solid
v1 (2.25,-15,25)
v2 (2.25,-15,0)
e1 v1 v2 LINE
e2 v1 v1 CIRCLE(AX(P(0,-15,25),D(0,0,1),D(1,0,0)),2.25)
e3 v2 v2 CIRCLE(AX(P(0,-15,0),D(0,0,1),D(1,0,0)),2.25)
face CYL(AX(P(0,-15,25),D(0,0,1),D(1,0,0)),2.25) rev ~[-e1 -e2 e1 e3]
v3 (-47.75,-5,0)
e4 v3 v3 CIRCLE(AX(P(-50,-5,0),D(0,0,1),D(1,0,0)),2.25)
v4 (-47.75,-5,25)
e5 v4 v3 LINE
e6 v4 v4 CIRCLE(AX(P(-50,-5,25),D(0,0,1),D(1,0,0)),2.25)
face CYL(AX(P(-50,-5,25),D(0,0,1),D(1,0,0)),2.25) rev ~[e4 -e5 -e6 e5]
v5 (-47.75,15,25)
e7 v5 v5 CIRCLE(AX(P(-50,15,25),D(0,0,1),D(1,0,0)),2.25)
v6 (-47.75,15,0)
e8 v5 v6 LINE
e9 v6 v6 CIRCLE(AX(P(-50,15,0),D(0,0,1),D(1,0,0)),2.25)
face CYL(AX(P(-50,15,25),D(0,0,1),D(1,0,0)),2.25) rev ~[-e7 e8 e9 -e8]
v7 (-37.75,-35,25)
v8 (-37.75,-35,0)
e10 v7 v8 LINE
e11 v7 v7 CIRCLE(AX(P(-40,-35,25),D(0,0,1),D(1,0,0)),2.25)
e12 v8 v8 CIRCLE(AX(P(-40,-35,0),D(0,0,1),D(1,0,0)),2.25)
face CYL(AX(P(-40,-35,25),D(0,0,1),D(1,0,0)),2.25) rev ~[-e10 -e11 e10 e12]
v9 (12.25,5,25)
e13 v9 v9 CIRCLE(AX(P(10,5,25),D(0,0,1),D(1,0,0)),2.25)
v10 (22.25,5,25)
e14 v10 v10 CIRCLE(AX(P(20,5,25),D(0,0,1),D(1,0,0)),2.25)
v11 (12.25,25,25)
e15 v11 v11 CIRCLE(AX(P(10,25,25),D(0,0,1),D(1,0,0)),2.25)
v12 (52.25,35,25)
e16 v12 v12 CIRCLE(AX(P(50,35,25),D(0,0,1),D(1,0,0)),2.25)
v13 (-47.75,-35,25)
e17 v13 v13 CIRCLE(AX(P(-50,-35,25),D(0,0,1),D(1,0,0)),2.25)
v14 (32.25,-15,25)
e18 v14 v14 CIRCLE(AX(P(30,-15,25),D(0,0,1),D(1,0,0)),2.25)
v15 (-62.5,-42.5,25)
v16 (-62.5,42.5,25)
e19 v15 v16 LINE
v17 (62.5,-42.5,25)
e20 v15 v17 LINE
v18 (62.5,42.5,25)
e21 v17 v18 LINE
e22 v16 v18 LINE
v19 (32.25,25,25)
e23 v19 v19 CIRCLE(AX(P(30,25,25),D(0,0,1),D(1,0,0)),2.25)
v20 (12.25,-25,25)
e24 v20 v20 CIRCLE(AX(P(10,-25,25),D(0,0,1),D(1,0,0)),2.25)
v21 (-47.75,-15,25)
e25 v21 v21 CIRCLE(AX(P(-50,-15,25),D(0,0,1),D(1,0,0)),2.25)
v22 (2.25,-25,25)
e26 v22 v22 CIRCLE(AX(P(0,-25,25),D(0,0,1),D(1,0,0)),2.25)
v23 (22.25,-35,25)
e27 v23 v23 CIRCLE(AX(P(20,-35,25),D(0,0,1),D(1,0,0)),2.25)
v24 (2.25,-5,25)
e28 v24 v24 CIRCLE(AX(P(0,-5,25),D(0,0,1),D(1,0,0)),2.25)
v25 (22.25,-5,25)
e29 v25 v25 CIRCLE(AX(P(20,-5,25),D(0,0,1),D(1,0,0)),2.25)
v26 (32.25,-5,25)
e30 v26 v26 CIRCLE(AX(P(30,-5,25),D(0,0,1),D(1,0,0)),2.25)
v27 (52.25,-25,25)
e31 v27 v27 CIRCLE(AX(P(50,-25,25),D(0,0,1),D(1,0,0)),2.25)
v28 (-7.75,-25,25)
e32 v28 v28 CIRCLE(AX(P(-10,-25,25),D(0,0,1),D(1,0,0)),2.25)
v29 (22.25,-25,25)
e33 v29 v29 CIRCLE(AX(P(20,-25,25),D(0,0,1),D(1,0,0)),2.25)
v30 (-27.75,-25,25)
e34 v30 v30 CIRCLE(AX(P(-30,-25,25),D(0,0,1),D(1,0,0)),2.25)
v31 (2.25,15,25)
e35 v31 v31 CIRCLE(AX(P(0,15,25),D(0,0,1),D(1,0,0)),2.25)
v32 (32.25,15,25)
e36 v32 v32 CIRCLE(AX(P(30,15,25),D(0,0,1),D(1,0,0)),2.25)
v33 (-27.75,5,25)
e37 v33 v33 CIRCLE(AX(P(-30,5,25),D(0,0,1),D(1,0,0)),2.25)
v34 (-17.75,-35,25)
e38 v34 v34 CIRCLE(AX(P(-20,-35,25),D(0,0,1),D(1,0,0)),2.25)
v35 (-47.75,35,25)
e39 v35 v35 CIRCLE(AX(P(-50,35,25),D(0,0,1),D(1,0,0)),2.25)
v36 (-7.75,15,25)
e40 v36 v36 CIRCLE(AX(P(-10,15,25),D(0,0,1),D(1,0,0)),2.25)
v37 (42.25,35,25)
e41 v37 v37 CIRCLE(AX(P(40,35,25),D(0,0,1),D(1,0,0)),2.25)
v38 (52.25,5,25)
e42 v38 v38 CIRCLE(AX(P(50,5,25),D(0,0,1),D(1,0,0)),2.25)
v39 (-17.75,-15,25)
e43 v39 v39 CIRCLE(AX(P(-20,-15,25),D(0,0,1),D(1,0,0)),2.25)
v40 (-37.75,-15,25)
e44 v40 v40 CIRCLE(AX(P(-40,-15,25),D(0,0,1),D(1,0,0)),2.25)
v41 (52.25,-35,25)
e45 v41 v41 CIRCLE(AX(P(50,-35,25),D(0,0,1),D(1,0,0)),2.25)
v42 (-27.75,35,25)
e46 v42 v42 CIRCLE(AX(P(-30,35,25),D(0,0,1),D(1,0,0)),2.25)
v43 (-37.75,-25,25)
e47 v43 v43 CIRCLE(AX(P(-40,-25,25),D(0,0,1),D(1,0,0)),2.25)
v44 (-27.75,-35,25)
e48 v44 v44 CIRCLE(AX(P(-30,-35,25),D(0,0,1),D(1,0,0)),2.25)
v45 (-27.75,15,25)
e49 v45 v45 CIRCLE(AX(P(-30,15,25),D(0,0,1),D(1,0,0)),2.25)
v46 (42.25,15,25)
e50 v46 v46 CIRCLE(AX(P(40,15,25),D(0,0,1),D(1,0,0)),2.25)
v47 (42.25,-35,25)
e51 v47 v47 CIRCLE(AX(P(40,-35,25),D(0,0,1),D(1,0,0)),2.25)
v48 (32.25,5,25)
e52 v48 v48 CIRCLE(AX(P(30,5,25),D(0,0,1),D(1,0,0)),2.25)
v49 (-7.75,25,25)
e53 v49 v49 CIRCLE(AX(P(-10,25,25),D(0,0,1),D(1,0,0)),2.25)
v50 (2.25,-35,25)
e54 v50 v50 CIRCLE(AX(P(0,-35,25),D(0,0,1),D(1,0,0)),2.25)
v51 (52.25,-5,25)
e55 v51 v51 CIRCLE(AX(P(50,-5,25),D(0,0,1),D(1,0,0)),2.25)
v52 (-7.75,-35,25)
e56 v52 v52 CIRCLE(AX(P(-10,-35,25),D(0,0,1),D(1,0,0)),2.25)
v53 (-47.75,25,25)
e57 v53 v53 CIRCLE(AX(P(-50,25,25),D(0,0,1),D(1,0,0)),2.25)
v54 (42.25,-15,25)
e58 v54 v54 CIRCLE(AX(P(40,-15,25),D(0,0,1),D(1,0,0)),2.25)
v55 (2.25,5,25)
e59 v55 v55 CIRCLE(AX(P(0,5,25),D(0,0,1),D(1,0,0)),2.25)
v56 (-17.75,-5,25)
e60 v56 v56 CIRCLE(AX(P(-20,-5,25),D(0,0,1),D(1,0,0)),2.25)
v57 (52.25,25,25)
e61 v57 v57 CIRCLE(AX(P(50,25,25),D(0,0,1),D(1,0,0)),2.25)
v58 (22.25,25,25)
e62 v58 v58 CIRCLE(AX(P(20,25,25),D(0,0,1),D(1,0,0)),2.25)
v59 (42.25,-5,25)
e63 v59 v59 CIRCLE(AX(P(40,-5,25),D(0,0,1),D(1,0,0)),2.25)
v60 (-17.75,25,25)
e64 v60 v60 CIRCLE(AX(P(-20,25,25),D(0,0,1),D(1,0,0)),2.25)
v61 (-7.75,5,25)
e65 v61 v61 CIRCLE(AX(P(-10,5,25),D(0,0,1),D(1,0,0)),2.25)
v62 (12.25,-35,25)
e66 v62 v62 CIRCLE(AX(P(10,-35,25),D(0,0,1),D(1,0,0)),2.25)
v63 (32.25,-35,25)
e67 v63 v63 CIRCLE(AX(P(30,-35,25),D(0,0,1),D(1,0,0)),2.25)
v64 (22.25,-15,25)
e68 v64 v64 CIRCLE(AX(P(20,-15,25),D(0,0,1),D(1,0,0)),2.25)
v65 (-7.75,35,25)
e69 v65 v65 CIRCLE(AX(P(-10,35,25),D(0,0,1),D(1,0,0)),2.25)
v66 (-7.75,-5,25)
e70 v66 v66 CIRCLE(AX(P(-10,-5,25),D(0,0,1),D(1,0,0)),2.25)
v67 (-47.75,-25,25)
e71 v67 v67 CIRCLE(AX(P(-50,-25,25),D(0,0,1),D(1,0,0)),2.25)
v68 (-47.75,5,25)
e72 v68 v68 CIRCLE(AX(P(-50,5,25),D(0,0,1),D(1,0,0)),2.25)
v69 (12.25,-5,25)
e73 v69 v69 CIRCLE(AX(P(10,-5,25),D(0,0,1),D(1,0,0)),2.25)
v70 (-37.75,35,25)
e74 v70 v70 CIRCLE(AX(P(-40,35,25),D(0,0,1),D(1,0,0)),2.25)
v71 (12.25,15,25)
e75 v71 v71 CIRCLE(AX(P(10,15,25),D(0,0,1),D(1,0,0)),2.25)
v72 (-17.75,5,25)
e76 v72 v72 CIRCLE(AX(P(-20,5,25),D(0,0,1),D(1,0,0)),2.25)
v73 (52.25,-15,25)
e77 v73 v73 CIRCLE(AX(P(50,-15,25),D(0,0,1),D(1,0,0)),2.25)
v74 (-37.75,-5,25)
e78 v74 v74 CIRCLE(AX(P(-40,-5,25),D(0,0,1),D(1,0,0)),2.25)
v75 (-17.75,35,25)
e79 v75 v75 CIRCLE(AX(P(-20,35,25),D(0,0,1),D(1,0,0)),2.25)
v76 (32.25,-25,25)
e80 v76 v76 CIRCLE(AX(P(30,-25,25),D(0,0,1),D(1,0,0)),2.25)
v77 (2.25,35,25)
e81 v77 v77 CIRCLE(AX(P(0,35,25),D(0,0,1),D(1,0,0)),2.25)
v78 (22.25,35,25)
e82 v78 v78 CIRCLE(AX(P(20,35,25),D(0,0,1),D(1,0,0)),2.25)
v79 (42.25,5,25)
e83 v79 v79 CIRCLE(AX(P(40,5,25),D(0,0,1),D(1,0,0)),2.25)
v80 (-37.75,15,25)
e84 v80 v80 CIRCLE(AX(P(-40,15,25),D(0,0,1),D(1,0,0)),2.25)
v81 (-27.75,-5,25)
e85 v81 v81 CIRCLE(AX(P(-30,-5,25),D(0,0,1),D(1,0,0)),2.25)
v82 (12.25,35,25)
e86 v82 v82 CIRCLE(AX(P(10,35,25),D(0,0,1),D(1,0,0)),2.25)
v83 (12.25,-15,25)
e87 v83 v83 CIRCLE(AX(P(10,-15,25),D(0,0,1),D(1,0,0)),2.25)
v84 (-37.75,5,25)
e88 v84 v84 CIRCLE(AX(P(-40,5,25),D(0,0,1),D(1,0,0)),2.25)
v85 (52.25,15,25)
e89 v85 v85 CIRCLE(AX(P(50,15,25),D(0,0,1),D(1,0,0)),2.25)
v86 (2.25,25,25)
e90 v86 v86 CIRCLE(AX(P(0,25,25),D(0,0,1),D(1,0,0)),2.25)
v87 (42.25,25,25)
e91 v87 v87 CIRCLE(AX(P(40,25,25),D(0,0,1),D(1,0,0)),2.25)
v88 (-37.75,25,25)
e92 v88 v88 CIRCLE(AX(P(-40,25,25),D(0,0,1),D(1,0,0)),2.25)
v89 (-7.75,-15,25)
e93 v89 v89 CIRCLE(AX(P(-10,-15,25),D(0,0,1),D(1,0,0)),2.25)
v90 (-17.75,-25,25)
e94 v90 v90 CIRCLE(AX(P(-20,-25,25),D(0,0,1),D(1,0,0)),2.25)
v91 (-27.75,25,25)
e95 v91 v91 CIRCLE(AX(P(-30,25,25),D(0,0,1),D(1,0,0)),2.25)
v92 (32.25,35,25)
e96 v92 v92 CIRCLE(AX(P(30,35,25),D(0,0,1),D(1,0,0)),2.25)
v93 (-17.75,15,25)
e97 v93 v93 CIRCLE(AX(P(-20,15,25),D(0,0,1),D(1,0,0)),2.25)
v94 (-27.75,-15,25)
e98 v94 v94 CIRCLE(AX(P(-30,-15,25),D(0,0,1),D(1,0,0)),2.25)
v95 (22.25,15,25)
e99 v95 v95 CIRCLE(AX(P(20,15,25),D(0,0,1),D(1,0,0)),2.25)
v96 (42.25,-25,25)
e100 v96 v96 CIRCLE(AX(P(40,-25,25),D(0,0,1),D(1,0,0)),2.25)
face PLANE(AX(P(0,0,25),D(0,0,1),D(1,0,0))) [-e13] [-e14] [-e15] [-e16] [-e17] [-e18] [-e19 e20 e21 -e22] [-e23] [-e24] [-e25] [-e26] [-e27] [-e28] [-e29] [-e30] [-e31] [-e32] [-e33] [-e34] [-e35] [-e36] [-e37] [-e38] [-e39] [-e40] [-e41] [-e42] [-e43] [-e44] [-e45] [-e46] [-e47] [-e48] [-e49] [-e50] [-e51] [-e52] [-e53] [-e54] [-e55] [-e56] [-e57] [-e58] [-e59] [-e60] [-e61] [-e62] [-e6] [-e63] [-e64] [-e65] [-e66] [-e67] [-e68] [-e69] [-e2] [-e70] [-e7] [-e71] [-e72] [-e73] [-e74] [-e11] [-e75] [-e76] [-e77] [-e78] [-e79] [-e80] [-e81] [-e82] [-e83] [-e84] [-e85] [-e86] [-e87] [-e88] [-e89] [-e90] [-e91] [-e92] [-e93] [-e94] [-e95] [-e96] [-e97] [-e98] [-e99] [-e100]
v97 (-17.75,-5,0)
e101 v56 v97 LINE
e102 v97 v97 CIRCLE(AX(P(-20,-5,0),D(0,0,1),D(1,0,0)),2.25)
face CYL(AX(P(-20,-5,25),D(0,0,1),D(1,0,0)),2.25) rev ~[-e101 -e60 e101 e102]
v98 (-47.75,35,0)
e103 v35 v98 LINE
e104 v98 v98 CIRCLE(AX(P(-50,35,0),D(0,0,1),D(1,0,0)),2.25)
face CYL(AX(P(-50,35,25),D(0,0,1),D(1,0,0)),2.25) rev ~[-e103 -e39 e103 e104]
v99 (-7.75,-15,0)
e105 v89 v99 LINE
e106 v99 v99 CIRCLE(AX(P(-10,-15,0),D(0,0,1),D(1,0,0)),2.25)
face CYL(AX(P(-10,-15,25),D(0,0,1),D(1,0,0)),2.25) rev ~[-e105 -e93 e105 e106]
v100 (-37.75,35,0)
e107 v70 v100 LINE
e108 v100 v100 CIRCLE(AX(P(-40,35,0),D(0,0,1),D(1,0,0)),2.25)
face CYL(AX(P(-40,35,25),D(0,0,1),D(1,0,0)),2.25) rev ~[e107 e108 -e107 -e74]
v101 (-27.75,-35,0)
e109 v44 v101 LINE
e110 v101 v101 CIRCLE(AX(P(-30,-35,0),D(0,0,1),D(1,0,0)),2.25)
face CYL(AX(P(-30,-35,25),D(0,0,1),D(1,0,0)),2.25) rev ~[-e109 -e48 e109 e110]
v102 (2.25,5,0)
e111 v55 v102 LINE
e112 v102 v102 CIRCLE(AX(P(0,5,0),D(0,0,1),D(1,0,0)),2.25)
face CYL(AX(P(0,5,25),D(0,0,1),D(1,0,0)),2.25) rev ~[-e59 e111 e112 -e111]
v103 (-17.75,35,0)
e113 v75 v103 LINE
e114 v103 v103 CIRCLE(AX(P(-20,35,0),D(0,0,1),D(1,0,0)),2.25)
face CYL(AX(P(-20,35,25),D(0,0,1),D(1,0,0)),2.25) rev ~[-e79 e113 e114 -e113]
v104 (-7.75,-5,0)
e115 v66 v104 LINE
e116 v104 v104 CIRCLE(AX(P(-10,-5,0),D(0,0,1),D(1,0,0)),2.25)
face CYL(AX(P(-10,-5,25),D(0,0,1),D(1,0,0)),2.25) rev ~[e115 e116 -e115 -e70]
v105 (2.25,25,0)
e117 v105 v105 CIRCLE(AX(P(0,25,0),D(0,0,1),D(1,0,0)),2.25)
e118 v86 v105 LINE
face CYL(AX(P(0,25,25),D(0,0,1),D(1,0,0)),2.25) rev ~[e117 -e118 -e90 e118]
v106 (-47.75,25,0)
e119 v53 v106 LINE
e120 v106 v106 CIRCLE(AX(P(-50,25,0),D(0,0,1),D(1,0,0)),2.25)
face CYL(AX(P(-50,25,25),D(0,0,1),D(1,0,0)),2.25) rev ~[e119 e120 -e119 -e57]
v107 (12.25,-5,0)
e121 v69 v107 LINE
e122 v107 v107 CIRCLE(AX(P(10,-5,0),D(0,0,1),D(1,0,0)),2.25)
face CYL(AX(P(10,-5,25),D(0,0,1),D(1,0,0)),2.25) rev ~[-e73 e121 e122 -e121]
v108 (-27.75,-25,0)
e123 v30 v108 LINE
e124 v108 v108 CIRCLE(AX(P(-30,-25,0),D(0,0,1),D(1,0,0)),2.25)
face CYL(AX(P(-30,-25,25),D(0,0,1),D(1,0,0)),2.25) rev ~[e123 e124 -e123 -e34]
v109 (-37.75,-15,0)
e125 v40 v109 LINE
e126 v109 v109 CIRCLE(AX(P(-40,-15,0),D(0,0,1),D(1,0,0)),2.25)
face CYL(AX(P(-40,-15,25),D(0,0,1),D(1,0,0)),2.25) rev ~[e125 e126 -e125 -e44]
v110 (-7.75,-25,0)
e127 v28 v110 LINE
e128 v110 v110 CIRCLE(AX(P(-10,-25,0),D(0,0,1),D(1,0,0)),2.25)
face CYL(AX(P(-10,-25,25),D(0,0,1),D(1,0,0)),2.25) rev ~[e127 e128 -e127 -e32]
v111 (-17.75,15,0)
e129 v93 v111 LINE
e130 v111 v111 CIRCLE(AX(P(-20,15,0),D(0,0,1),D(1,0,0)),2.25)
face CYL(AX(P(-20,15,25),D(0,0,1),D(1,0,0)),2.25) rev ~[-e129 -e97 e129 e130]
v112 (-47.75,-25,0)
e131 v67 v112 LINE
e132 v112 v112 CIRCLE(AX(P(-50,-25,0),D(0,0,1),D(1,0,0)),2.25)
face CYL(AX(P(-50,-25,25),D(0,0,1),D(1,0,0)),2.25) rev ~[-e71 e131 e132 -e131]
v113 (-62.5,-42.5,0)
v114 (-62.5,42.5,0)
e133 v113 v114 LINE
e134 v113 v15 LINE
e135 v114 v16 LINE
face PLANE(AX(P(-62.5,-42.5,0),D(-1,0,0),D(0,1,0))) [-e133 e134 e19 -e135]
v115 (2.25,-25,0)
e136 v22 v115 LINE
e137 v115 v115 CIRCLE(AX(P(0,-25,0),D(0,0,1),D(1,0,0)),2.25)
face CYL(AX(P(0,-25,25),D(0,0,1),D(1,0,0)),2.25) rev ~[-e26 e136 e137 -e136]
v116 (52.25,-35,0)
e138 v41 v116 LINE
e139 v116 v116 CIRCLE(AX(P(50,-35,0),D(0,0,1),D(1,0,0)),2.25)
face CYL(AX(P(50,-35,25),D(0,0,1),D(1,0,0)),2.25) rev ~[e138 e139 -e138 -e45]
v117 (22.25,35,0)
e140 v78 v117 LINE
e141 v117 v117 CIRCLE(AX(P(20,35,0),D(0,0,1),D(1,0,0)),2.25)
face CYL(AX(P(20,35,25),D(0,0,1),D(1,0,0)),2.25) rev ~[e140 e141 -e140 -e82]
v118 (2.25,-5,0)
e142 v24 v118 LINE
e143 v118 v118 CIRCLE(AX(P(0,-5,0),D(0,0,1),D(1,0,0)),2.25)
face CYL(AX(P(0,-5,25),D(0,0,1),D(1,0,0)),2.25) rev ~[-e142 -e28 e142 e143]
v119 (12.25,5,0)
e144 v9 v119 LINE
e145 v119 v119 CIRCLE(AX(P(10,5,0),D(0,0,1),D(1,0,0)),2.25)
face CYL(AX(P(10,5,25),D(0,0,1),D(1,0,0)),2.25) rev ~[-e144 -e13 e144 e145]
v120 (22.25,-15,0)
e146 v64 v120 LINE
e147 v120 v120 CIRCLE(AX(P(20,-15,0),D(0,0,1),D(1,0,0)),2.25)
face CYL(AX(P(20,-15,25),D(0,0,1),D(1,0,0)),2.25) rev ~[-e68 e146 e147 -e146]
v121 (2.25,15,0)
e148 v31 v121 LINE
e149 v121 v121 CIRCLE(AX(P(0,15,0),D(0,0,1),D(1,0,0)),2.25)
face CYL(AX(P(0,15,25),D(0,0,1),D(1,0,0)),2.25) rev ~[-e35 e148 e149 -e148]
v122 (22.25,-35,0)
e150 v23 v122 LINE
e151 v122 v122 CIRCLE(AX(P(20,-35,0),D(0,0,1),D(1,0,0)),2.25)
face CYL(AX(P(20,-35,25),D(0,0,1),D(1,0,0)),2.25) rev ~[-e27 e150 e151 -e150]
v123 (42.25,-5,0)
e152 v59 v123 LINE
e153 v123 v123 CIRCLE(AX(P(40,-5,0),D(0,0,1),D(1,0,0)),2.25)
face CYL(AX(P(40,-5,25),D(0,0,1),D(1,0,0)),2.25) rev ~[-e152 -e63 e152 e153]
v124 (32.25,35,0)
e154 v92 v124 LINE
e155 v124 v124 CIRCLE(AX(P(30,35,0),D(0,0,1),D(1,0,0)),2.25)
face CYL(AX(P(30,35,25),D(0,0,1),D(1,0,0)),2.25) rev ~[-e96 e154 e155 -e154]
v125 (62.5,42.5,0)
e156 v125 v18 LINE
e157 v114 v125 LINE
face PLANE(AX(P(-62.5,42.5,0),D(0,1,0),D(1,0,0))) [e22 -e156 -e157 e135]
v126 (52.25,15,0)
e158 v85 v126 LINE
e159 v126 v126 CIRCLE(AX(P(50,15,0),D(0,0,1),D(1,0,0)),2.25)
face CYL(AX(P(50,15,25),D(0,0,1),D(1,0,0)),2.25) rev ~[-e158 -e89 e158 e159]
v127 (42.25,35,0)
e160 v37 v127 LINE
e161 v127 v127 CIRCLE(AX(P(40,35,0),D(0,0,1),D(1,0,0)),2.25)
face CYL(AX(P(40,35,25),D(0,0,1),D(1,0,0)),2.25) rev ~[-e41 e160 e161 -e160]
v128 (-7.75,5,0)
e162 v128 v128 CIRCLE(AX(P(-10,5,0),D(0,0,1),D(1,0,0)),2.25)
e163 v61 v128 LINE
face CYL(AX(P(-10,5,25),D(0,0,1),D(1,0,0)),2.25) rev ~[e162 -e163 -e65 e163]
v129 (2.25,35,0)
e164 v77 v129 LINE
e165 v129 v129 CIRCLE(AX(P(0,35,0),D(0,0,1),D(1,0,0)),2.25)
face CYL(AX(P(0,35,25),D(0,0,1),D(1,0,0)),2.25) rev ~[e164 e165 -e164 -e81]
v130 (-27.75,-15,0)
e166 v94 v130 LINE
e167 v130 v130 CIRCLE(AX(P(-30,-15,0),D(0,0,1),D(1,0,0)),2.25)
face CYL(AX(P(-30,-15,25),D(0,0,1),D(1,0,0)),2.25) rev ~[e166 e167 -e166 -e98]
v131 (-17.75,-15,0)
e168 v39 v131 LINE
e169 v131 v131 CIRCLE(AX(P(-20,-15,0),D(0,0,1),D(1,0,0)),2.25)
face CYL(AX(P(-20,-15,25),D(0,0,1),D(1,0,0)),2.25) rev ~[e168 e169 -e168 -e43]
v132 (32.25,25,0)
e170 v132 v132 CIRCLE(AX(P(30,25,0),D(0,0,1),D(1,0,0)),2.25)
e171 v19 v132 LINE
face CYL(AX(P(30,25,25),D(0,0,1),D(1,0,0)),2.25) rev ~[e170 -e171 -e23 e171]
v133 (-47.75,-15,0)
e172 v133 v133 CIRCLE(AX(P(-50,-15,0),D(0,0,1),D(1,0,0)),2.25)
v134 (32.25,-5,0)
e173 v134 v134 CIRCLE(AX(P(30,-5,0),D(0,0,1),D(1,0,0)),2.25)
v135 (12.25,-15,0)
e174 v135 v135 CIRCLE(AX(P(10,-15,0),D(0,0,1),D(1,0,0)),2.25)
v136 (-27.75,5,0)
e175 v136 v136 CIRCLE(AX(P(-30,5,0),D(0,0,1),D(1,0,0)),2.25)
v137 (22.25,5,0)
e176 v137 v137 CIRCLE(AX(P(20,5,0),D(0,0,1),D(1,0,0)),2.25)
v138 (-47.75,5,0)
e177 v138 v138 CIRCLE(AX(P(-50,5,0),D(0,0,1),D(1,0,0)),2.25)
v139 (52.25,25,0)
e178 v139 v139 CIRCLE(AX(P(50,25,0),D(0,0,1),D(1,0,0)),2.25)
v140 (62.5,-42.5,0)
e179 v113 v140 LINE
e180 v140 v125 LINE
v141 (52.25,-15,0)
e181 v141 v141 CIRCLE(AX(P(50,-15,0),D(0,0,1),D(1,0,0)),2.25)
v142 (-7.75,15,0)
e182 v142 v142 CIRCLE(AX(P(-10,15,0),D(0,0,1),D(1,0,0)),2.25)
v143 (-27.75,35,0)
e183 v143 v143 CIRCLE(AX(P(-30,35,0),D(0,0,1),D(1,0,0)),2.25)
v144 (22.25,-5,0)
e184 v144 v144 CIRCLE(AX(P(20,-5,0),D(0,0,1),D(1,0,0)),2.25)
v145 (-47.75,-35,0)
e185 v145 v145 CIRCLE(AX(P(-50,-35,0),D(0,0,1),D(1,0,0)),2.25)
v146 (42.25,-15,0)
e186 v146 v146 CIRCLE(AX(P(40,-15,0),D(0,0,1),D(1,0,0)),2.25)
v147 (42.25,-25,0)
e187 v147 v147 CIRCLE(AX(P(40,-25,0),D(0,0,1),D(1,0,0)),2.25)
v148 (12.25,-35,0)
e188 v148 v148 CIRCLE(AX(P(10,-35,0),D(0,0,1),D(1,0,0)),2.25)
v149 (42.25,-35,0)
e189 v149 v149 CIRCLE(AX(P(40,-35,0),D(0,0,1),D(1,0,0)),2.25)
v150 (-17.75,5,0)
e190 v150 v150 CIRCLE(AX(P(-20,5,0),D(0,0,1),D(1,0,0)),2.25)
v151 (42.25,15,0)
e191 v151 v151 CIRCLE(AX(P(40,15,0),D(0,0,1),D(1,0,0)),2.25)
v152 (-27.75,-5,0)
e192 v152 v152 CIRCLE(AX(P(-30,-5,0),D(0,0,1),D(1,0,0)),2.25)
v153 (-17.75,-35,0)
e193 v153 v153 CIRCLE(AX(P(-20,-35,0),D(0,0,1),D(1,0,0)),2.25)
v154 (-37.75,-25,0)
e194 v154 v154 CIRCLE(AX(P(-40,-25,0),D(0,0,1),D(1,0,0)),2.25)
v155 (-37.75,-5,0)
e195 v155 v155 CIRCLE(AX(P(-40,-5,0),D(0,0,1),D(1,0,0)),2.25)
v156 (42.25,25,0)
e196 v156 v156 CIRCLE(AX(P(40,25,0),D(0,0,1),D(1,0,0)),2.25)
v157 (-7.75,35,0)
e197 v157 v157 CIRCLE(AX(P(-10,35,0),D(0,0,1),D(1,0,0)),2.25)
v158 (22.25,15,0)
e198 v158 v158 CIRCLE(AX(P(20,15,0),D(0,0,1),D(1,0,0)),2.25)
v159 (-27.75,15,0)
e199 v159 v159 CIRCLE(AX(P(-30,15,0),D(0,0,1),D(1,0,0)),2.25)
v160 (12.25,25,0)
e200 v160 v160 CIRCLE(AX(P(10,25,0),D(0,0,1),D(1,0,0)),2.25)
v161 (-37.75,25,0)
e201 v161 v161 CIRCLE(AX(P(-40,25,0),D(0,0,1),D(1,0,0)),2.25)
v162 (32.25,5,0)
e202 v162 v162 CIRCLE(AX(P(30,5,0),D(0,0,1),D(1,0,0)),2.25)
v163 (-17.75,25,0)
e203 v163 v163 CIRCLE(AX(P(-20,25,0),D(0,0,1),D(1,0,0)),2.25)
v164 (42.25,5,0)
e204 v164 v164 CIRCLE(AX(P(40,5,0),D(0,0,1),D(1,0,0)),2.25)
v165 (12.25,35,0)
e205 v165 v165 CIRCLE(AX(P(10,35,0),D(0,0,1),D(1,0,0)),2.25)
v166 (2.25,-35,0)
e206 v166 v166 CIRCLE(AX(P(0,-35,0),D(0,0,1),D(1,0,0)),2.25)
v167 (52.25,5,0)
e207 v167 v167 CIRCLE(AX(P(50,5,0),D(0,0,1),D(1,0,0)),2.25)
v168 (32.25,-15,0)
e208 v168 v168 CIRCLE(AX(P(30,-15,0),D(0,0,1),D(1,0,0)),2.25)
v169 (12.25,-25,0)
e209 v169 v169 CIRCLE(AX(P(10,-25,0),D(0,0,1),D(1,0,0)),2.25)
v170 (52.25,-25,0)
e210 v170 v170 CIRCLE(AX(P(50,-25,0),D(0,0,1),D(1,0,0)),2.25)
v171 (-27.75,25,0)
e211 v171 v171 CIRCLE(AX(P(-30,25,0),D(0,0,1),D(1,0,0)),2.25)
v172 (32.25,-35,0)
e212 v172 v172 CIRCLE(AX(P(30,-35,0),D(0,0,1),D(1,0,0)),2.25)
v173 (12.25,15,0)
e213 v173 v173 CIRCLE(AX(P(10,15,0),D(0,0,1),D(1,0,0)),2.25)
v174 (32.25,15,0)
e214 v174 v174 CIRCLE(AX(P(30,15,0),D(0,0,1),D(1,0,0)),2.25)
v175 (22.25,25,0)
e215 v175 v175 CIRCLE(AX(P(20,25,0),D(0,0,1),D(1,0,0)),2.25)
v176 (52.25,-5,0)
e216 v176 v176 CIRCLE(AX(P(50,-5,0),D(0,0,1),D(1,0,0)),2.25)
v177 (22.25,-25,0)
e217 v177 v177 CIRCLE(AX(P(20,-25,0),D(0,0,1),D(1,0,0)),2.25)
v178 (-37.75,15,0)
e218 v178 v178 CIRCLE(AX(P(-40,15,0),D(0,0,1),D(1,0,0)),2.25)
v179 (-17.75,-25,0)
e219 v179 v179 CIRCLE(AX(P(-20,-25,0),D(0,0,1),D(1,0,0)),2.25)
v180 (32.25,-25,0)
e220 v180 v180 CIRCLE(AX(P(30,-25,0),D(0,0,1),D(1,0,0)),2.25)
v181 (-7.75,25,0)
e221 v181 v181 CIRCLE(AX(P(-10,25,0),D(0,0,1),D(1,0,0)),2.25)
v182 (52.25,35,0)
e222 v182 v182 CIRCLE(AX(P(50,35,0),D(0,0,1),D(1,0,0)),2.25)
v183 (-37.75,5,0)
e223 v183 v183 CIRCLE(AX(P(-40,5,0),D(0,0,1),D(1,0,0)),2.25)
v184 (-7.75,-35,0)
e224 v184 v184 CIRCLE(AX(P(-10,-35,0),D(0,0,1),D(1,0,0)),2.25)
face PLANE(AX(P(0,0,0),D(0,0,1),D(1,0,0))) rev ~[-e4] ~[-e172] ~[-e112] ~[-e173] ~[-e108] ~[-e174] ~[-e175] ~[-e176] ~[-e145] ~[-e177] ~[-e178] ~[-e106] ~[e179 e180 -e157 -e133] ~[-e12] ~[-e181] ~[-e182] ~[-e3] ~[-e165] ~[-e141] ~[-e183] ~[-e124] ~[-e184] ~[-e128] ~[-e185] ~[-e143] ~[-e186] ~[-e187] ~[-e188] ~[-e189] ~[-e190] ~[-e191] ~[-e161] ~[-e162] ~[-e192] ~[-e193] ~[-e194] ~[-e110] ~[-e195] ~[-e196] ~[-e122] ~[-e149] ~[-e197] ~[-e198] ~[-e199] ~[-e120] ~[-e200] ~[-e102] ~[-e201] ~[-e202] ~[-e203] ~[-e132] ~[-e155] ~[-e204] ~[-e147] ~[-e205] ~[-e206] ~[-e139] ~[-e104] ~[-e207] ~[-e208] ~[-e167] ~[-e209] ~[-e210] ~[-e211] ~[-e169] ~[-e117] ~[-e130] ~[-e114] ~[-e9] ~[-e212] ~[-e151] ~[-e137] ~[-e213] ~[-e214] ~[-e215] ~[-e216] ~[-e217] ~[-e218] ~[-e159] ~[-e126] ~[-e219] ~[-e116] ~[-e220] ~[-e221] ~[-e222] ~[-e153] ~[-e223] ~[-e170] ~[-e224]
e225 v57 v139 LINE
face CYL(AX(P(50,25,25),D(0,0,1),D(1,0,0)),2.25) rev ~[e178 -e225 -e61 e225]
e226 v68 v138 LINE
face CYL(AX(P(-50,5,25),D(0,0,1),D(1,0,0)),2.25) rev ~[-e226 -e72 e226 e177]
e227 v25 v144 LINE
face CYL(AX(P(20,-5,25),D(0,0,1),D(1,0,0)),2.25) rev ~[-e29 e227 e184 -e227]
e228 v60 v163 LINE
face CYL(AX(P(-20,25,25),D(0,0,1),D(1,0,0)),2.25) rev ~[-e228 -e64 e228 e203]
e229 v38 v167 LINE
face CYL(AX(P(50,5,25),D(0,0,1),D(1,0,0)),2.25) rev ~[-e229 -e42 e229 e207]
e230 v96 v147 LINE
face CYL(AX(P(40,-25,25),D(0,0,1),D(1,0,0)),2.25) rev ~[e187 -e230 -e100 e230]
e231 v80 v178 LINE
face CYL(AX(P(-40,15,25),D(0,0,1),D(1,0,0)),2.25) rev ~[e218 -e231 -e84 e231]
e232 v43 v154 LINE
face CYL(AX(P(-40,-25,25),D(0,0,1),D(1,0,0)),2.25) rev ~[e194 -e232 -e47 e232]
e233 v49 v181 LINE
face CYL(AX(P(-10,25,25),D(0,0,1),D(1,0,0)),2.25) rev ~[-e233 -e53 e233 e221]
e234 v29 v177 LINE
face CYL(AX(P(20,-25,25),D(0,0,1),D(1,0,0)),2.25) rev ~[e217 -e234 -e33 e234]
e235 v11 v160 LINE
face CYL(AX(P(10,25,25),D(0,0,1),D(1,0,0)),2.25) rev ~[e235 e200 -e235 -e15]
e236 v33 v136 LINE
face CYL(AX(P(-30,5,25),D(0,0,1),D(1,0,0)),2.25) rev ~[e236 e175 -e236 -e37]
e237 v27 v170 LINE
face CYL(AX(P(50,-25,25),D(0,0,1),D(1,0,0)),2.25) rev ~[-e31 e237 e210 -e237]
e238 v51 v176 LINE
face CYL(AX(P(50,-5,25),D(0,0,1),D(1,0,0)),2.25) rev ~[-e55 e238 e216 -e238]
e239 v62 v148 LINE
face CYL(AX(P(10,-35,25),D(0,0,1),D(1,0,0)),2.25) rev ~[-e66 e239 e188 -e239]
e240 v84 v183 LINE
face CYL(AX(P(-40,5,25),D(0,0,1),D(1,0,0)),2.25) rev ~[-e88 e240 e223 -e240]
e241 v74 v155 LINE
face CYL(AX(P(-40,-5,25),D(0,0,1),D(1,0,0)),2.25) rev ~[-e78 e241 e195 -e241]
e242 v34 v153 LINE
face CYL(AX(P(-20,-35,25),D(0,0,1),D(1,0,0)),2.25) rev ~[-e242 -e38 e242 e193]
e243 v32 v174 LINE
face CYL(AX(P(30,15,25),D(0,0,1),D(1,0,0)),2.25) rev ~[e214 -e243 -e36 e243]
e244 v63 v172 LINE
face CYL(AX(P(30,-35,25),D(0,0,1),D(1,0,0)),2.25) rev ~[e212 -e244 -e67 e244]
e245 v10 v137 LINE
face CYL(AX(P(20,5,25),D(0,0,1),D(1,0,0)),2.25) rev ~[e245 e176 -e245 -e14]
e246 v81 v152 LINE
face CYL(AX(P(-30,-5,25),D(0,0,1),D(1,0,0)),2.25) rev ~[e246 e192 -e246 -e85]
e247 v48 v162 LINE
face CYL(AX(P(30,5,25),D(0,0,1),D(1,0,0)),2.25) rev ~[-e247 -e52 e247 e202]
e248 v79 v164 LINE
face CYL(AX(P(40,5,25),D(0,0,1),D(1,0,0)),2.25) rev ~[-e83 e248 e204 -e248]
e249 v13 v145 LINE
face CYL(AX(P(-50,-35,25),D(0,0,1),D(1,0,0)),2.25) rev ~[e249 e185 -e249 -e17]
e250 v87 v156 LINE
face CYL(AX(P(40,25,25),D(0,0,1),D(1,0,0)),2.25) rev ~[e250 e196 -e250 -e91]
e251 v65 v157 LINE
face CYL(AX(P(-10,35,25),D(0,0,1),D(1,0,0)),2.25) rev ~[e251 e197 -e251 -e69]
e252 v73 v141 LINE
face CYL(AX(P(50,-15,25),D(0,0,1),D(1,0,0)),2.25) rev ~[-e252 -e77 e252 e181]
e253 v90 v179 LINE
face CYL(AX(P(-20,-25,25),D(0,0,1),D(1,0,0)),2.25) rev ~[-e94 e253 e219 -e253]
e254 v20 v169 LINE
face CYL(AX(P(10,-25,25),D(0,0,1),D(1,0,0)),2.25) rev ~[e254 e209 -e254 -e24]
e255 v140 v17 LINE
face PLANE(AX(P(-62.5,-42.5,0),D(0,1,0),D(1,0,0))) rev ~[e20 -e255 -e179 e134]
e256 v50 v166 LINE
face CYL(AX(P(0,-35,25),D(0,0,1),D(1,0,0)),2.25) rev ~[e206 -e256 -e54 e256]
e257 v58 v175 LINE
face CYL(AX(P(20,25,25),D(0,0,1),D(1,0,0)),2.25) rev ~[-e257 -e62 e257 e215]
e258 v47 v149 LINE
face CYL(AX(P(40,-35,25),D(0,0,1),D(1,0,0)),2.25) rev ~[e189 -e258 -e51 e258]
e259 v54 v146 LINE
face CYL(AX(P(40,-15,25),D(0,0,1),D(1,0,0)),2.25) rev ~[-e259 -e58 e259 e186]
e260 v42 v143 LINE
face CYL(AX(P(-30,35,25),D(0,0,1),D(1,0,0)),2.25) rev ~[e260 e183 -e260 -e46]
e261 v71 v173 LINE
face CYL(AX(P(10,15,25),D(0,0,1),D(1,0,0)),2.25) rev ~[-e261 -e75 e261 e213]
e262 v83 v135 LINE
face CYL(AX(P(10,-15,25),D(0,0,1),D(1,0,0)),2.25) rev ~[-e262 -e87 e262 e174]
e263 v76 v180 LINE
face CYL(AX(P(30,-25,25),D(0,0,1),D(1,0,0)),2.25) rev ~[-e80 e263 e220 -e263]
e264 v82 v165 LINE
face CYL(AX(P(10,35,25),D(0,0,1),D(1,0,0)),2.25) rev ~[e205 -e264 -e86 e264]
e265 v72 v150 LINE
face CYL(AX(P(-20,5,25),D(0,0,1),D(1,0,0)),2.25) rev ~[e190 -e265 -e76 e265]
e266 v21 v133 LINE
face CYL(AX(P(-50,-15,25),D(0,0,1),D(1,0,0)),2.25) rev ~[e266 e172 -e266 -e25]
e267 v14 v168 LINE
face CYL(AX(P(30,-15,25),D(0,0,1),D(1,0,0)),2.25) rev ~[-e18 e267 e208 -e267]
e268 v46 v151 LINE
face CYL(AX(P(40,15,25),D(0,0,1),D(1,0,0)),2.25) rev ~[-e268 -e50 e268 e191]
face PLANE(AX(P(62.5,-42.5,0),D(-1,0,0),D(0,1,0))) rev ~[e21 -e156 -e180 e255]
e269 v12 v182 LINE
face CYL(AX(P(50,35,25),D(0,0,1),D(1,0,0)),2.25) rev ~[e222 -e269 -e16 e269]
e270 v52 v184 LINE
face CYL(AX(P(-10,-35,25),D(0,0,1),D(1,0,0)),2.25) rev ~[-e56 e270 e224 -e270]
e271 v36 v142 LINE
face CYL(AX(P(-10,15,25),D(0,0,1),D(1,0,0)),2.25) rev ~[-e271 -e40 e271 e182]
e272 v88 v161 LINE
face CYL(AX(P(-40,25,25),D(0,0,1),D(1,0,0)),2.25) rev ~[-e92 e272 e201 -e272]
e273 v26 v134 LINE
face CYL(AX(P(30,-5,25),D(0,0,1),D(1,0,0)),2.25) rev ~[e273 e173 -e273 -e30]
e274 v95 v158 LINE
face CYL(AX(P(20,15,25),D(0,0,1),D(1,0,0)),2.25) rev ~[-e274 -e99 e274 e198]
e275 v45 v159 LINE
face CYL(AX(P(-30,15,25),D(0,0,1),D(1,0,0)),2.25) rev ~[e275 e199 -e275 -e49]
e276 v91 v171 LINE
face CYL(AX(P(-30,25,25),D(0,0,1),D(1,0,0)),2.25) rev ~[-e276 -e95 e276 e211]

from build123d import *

# Parameters (mm, degrees)
F0_W     = 125
F0_H     = 85
F1_DEPTH = 25
F2_R     = 2.25
F3_DEPTH = 25


with BuildPart() as f1:
    # F0 (on Top) → F1 (new body)
    with BuildSketch(Plane.XY):
        Rectangle(F0_W, F0_H)
    extrude(amount=F1_DEPTH)

    # F2 (on face) → F3 (cut)
    with BuildSketch(Plane.XY.offset(25)):
        with Locations((-50, 35)):
            Circle(F2_R)
        with Locations((-50, 25)):
            Circle(F2_R)
        with Locations((-50, 15)):
            Circle(F2_R)
        with Locations((-50, 5)):
            Circle(F2_R)
        with Locations((-50, -5)):
            Circle(F2_R)
        with Locations((-50, -15)):
            Circle(F2_R)
        with Locations((-50, -25)):
            Circle(F2_R)
        with Locations((-50, -35)):
            Circle(F2_R)
        with Locations((-40, 35)):
            Circle(F2_R)
        with Locations((-40, 25)):
            Circle(F2_R)
        with Locations((-40, 15)):
            Circle(F2_R)
        with Locations((-40, 5)):
            Circle(F2_R)
        with Locations((-40, -5)):
            Circle(F2_R)
        with Locations((-40, -15)):
            Circle(F2_R)
        with Locations((-40, -25)):
            Circle(F2_R)
        with Locations((-40, -35)):
            Circle(F2_R)
        with Locations((-30, 35)):
            Circle(F2_R)
        with Locations((-30, 25)):
            Circle(F2_R)
        with Locations((-30, 15)):
            Circle(F2_R)
        with Locations((-30, 5)):
            Circle(F2_R)
        with Locations((-30, -5)):
            Circle(F2_R)
        with Locations((-30, -15)):
            Circle(F2_R)
        with Locations((-30, -25)):
            Circle(F2_R)
        with Locations((-30, -35)):
            Circle(F2_R)
        with Locations((-20, 35)):
            Circle(F2_R)
        with Locations((-20, 25)):
            Circle(F2_R)
        with Locations((-20, 15)):
            Circle(F2_R)
        with Locations((-20, 5)):
            Circle(F2_R)
        with Locations((-20, -5)):
            Circle(F2_R)
        with Locations((-20, -15)):
            Circle(F2_R)
        with Locations((-20, -25)):
            Circle(F2_R)
        with Locations((-20, -35)):
            Circle(F2_R)
        with Locations((-10, 35)):
            Circle(F2_R)
        with Locations((-10, 25)):
            Circle(F2_R)
        with Locations((-10, 15)):
            Circle(F2_R)
        with Locations((-10, 5)):
            Circle(F2_R)
        with Locations((-10, -5)):
            Circle(F2_R)
        with Locations((-10, -15)):
            Circle(F2_R)
        with Locations((-10, -25)):
            Circle(F2_R)
        with Locations((-10, -35)):
            Circle(F2_R)
        with Locations((0, 35)):
            Circle(F2_R)
        with Locations((0, 25)):
            Circle(F2_R)
        with Locations((0, 15)):
            Circle(F2_R)
        with Locations((0, 5)):
            Circle(F2_R)
        with Locations((0, -5)):
            Circle(F2_R)
        with Locations((0, -15)):
            Circle(F2_R)
        with Locations((0, -25)):
            Circle(F2_R)
        with Locations((0, -35)):
            Circle(F2_R)
        with Locations((10, 35)):
            Circle(F2_R)
        with Locations((10, 25)):
            Circle(F2_R)
        with Locations((10, 15)):
            Circle(F2_R)
        with Locations((10, 5)):
            Circle(F2_R)
        with Locations((10, -5)):
            Circle(F2_R)
        with Locations((10, -15)):
            Circle(F2_R)
        with Locations((10, -25)):
            Circle(F2_R)
        with Locations((10, -35)):
            Circle(F2_R)
        with Locations((20, 35)):
            Circle(F2_R)
        with Locations((20, 25)):
            Circle(F2_R)
        with Locations((20, 15)):
            Circle(F2_R)
        with Locations((20, 5)):
            Circle(F2_R)
        with Locations((20, -5)):
            Circle(F2_R)
        with Locations((20, -15)):
            Circle(F2_R)
        with Locations((20, -25)):
            Circle(F2_R)
        with Locations((20, -35)):
            Circle(F2_R)
        with Locations((30, 35)):
            Circle(F2_R)
        with Locations((30, 25)):
            Circle(F2_R)
        with Locations((30, 15)):
            Circle(F2_R)
        with Locations((30, 5)):
            Circle(F2_R)
        with Locations((30, -5)):
            Circle(F2_R)
        with Locations((30, -15)):
            Circle(F2_R)
        with Locations((30, -25)):
            Circle(F2_R)
        with Locations((30, -35)):
            Circle(F2_R)
        with Locations((40, 35)):
            Circle(F2_R)
        with Locations((40, 25)):
            Circle(F2_R)
        with Locations((40, 15)):
            Circle(F2_R)
        with Locations((40, 5)):
            Circle(F2_R)
        with Locations((40, -5)):
            Circle(F2_R)
        with Locations((40, -15)):
            Circle(F2_R)
        with Locations((40, -25)):
            Circle(F2_R)
        with Locations((40, -35)):
            Circle(F2_R)
        with Locations((50, 35)):
            Circle(F2_R)
        with Locations((50, 25)):
            Circle(F2_R)
        with Locations((50, 15)):
            Circle(F2_R)
        with Locations((50, 5)):
            Circle(F2_R)
        with Locations((50, -5)):
            Circle(F2_R)
        with Locations((50, -15)):
            Circle(F2_R)
        with Locations((50, -25)):
            Circle(F2_R)
        with Locations((50, -35)):
            Circle(F2_R)
    extrude(amount=-F3_DEPTH, mode=Mode.SUBTRACT)


solid = f1.part
